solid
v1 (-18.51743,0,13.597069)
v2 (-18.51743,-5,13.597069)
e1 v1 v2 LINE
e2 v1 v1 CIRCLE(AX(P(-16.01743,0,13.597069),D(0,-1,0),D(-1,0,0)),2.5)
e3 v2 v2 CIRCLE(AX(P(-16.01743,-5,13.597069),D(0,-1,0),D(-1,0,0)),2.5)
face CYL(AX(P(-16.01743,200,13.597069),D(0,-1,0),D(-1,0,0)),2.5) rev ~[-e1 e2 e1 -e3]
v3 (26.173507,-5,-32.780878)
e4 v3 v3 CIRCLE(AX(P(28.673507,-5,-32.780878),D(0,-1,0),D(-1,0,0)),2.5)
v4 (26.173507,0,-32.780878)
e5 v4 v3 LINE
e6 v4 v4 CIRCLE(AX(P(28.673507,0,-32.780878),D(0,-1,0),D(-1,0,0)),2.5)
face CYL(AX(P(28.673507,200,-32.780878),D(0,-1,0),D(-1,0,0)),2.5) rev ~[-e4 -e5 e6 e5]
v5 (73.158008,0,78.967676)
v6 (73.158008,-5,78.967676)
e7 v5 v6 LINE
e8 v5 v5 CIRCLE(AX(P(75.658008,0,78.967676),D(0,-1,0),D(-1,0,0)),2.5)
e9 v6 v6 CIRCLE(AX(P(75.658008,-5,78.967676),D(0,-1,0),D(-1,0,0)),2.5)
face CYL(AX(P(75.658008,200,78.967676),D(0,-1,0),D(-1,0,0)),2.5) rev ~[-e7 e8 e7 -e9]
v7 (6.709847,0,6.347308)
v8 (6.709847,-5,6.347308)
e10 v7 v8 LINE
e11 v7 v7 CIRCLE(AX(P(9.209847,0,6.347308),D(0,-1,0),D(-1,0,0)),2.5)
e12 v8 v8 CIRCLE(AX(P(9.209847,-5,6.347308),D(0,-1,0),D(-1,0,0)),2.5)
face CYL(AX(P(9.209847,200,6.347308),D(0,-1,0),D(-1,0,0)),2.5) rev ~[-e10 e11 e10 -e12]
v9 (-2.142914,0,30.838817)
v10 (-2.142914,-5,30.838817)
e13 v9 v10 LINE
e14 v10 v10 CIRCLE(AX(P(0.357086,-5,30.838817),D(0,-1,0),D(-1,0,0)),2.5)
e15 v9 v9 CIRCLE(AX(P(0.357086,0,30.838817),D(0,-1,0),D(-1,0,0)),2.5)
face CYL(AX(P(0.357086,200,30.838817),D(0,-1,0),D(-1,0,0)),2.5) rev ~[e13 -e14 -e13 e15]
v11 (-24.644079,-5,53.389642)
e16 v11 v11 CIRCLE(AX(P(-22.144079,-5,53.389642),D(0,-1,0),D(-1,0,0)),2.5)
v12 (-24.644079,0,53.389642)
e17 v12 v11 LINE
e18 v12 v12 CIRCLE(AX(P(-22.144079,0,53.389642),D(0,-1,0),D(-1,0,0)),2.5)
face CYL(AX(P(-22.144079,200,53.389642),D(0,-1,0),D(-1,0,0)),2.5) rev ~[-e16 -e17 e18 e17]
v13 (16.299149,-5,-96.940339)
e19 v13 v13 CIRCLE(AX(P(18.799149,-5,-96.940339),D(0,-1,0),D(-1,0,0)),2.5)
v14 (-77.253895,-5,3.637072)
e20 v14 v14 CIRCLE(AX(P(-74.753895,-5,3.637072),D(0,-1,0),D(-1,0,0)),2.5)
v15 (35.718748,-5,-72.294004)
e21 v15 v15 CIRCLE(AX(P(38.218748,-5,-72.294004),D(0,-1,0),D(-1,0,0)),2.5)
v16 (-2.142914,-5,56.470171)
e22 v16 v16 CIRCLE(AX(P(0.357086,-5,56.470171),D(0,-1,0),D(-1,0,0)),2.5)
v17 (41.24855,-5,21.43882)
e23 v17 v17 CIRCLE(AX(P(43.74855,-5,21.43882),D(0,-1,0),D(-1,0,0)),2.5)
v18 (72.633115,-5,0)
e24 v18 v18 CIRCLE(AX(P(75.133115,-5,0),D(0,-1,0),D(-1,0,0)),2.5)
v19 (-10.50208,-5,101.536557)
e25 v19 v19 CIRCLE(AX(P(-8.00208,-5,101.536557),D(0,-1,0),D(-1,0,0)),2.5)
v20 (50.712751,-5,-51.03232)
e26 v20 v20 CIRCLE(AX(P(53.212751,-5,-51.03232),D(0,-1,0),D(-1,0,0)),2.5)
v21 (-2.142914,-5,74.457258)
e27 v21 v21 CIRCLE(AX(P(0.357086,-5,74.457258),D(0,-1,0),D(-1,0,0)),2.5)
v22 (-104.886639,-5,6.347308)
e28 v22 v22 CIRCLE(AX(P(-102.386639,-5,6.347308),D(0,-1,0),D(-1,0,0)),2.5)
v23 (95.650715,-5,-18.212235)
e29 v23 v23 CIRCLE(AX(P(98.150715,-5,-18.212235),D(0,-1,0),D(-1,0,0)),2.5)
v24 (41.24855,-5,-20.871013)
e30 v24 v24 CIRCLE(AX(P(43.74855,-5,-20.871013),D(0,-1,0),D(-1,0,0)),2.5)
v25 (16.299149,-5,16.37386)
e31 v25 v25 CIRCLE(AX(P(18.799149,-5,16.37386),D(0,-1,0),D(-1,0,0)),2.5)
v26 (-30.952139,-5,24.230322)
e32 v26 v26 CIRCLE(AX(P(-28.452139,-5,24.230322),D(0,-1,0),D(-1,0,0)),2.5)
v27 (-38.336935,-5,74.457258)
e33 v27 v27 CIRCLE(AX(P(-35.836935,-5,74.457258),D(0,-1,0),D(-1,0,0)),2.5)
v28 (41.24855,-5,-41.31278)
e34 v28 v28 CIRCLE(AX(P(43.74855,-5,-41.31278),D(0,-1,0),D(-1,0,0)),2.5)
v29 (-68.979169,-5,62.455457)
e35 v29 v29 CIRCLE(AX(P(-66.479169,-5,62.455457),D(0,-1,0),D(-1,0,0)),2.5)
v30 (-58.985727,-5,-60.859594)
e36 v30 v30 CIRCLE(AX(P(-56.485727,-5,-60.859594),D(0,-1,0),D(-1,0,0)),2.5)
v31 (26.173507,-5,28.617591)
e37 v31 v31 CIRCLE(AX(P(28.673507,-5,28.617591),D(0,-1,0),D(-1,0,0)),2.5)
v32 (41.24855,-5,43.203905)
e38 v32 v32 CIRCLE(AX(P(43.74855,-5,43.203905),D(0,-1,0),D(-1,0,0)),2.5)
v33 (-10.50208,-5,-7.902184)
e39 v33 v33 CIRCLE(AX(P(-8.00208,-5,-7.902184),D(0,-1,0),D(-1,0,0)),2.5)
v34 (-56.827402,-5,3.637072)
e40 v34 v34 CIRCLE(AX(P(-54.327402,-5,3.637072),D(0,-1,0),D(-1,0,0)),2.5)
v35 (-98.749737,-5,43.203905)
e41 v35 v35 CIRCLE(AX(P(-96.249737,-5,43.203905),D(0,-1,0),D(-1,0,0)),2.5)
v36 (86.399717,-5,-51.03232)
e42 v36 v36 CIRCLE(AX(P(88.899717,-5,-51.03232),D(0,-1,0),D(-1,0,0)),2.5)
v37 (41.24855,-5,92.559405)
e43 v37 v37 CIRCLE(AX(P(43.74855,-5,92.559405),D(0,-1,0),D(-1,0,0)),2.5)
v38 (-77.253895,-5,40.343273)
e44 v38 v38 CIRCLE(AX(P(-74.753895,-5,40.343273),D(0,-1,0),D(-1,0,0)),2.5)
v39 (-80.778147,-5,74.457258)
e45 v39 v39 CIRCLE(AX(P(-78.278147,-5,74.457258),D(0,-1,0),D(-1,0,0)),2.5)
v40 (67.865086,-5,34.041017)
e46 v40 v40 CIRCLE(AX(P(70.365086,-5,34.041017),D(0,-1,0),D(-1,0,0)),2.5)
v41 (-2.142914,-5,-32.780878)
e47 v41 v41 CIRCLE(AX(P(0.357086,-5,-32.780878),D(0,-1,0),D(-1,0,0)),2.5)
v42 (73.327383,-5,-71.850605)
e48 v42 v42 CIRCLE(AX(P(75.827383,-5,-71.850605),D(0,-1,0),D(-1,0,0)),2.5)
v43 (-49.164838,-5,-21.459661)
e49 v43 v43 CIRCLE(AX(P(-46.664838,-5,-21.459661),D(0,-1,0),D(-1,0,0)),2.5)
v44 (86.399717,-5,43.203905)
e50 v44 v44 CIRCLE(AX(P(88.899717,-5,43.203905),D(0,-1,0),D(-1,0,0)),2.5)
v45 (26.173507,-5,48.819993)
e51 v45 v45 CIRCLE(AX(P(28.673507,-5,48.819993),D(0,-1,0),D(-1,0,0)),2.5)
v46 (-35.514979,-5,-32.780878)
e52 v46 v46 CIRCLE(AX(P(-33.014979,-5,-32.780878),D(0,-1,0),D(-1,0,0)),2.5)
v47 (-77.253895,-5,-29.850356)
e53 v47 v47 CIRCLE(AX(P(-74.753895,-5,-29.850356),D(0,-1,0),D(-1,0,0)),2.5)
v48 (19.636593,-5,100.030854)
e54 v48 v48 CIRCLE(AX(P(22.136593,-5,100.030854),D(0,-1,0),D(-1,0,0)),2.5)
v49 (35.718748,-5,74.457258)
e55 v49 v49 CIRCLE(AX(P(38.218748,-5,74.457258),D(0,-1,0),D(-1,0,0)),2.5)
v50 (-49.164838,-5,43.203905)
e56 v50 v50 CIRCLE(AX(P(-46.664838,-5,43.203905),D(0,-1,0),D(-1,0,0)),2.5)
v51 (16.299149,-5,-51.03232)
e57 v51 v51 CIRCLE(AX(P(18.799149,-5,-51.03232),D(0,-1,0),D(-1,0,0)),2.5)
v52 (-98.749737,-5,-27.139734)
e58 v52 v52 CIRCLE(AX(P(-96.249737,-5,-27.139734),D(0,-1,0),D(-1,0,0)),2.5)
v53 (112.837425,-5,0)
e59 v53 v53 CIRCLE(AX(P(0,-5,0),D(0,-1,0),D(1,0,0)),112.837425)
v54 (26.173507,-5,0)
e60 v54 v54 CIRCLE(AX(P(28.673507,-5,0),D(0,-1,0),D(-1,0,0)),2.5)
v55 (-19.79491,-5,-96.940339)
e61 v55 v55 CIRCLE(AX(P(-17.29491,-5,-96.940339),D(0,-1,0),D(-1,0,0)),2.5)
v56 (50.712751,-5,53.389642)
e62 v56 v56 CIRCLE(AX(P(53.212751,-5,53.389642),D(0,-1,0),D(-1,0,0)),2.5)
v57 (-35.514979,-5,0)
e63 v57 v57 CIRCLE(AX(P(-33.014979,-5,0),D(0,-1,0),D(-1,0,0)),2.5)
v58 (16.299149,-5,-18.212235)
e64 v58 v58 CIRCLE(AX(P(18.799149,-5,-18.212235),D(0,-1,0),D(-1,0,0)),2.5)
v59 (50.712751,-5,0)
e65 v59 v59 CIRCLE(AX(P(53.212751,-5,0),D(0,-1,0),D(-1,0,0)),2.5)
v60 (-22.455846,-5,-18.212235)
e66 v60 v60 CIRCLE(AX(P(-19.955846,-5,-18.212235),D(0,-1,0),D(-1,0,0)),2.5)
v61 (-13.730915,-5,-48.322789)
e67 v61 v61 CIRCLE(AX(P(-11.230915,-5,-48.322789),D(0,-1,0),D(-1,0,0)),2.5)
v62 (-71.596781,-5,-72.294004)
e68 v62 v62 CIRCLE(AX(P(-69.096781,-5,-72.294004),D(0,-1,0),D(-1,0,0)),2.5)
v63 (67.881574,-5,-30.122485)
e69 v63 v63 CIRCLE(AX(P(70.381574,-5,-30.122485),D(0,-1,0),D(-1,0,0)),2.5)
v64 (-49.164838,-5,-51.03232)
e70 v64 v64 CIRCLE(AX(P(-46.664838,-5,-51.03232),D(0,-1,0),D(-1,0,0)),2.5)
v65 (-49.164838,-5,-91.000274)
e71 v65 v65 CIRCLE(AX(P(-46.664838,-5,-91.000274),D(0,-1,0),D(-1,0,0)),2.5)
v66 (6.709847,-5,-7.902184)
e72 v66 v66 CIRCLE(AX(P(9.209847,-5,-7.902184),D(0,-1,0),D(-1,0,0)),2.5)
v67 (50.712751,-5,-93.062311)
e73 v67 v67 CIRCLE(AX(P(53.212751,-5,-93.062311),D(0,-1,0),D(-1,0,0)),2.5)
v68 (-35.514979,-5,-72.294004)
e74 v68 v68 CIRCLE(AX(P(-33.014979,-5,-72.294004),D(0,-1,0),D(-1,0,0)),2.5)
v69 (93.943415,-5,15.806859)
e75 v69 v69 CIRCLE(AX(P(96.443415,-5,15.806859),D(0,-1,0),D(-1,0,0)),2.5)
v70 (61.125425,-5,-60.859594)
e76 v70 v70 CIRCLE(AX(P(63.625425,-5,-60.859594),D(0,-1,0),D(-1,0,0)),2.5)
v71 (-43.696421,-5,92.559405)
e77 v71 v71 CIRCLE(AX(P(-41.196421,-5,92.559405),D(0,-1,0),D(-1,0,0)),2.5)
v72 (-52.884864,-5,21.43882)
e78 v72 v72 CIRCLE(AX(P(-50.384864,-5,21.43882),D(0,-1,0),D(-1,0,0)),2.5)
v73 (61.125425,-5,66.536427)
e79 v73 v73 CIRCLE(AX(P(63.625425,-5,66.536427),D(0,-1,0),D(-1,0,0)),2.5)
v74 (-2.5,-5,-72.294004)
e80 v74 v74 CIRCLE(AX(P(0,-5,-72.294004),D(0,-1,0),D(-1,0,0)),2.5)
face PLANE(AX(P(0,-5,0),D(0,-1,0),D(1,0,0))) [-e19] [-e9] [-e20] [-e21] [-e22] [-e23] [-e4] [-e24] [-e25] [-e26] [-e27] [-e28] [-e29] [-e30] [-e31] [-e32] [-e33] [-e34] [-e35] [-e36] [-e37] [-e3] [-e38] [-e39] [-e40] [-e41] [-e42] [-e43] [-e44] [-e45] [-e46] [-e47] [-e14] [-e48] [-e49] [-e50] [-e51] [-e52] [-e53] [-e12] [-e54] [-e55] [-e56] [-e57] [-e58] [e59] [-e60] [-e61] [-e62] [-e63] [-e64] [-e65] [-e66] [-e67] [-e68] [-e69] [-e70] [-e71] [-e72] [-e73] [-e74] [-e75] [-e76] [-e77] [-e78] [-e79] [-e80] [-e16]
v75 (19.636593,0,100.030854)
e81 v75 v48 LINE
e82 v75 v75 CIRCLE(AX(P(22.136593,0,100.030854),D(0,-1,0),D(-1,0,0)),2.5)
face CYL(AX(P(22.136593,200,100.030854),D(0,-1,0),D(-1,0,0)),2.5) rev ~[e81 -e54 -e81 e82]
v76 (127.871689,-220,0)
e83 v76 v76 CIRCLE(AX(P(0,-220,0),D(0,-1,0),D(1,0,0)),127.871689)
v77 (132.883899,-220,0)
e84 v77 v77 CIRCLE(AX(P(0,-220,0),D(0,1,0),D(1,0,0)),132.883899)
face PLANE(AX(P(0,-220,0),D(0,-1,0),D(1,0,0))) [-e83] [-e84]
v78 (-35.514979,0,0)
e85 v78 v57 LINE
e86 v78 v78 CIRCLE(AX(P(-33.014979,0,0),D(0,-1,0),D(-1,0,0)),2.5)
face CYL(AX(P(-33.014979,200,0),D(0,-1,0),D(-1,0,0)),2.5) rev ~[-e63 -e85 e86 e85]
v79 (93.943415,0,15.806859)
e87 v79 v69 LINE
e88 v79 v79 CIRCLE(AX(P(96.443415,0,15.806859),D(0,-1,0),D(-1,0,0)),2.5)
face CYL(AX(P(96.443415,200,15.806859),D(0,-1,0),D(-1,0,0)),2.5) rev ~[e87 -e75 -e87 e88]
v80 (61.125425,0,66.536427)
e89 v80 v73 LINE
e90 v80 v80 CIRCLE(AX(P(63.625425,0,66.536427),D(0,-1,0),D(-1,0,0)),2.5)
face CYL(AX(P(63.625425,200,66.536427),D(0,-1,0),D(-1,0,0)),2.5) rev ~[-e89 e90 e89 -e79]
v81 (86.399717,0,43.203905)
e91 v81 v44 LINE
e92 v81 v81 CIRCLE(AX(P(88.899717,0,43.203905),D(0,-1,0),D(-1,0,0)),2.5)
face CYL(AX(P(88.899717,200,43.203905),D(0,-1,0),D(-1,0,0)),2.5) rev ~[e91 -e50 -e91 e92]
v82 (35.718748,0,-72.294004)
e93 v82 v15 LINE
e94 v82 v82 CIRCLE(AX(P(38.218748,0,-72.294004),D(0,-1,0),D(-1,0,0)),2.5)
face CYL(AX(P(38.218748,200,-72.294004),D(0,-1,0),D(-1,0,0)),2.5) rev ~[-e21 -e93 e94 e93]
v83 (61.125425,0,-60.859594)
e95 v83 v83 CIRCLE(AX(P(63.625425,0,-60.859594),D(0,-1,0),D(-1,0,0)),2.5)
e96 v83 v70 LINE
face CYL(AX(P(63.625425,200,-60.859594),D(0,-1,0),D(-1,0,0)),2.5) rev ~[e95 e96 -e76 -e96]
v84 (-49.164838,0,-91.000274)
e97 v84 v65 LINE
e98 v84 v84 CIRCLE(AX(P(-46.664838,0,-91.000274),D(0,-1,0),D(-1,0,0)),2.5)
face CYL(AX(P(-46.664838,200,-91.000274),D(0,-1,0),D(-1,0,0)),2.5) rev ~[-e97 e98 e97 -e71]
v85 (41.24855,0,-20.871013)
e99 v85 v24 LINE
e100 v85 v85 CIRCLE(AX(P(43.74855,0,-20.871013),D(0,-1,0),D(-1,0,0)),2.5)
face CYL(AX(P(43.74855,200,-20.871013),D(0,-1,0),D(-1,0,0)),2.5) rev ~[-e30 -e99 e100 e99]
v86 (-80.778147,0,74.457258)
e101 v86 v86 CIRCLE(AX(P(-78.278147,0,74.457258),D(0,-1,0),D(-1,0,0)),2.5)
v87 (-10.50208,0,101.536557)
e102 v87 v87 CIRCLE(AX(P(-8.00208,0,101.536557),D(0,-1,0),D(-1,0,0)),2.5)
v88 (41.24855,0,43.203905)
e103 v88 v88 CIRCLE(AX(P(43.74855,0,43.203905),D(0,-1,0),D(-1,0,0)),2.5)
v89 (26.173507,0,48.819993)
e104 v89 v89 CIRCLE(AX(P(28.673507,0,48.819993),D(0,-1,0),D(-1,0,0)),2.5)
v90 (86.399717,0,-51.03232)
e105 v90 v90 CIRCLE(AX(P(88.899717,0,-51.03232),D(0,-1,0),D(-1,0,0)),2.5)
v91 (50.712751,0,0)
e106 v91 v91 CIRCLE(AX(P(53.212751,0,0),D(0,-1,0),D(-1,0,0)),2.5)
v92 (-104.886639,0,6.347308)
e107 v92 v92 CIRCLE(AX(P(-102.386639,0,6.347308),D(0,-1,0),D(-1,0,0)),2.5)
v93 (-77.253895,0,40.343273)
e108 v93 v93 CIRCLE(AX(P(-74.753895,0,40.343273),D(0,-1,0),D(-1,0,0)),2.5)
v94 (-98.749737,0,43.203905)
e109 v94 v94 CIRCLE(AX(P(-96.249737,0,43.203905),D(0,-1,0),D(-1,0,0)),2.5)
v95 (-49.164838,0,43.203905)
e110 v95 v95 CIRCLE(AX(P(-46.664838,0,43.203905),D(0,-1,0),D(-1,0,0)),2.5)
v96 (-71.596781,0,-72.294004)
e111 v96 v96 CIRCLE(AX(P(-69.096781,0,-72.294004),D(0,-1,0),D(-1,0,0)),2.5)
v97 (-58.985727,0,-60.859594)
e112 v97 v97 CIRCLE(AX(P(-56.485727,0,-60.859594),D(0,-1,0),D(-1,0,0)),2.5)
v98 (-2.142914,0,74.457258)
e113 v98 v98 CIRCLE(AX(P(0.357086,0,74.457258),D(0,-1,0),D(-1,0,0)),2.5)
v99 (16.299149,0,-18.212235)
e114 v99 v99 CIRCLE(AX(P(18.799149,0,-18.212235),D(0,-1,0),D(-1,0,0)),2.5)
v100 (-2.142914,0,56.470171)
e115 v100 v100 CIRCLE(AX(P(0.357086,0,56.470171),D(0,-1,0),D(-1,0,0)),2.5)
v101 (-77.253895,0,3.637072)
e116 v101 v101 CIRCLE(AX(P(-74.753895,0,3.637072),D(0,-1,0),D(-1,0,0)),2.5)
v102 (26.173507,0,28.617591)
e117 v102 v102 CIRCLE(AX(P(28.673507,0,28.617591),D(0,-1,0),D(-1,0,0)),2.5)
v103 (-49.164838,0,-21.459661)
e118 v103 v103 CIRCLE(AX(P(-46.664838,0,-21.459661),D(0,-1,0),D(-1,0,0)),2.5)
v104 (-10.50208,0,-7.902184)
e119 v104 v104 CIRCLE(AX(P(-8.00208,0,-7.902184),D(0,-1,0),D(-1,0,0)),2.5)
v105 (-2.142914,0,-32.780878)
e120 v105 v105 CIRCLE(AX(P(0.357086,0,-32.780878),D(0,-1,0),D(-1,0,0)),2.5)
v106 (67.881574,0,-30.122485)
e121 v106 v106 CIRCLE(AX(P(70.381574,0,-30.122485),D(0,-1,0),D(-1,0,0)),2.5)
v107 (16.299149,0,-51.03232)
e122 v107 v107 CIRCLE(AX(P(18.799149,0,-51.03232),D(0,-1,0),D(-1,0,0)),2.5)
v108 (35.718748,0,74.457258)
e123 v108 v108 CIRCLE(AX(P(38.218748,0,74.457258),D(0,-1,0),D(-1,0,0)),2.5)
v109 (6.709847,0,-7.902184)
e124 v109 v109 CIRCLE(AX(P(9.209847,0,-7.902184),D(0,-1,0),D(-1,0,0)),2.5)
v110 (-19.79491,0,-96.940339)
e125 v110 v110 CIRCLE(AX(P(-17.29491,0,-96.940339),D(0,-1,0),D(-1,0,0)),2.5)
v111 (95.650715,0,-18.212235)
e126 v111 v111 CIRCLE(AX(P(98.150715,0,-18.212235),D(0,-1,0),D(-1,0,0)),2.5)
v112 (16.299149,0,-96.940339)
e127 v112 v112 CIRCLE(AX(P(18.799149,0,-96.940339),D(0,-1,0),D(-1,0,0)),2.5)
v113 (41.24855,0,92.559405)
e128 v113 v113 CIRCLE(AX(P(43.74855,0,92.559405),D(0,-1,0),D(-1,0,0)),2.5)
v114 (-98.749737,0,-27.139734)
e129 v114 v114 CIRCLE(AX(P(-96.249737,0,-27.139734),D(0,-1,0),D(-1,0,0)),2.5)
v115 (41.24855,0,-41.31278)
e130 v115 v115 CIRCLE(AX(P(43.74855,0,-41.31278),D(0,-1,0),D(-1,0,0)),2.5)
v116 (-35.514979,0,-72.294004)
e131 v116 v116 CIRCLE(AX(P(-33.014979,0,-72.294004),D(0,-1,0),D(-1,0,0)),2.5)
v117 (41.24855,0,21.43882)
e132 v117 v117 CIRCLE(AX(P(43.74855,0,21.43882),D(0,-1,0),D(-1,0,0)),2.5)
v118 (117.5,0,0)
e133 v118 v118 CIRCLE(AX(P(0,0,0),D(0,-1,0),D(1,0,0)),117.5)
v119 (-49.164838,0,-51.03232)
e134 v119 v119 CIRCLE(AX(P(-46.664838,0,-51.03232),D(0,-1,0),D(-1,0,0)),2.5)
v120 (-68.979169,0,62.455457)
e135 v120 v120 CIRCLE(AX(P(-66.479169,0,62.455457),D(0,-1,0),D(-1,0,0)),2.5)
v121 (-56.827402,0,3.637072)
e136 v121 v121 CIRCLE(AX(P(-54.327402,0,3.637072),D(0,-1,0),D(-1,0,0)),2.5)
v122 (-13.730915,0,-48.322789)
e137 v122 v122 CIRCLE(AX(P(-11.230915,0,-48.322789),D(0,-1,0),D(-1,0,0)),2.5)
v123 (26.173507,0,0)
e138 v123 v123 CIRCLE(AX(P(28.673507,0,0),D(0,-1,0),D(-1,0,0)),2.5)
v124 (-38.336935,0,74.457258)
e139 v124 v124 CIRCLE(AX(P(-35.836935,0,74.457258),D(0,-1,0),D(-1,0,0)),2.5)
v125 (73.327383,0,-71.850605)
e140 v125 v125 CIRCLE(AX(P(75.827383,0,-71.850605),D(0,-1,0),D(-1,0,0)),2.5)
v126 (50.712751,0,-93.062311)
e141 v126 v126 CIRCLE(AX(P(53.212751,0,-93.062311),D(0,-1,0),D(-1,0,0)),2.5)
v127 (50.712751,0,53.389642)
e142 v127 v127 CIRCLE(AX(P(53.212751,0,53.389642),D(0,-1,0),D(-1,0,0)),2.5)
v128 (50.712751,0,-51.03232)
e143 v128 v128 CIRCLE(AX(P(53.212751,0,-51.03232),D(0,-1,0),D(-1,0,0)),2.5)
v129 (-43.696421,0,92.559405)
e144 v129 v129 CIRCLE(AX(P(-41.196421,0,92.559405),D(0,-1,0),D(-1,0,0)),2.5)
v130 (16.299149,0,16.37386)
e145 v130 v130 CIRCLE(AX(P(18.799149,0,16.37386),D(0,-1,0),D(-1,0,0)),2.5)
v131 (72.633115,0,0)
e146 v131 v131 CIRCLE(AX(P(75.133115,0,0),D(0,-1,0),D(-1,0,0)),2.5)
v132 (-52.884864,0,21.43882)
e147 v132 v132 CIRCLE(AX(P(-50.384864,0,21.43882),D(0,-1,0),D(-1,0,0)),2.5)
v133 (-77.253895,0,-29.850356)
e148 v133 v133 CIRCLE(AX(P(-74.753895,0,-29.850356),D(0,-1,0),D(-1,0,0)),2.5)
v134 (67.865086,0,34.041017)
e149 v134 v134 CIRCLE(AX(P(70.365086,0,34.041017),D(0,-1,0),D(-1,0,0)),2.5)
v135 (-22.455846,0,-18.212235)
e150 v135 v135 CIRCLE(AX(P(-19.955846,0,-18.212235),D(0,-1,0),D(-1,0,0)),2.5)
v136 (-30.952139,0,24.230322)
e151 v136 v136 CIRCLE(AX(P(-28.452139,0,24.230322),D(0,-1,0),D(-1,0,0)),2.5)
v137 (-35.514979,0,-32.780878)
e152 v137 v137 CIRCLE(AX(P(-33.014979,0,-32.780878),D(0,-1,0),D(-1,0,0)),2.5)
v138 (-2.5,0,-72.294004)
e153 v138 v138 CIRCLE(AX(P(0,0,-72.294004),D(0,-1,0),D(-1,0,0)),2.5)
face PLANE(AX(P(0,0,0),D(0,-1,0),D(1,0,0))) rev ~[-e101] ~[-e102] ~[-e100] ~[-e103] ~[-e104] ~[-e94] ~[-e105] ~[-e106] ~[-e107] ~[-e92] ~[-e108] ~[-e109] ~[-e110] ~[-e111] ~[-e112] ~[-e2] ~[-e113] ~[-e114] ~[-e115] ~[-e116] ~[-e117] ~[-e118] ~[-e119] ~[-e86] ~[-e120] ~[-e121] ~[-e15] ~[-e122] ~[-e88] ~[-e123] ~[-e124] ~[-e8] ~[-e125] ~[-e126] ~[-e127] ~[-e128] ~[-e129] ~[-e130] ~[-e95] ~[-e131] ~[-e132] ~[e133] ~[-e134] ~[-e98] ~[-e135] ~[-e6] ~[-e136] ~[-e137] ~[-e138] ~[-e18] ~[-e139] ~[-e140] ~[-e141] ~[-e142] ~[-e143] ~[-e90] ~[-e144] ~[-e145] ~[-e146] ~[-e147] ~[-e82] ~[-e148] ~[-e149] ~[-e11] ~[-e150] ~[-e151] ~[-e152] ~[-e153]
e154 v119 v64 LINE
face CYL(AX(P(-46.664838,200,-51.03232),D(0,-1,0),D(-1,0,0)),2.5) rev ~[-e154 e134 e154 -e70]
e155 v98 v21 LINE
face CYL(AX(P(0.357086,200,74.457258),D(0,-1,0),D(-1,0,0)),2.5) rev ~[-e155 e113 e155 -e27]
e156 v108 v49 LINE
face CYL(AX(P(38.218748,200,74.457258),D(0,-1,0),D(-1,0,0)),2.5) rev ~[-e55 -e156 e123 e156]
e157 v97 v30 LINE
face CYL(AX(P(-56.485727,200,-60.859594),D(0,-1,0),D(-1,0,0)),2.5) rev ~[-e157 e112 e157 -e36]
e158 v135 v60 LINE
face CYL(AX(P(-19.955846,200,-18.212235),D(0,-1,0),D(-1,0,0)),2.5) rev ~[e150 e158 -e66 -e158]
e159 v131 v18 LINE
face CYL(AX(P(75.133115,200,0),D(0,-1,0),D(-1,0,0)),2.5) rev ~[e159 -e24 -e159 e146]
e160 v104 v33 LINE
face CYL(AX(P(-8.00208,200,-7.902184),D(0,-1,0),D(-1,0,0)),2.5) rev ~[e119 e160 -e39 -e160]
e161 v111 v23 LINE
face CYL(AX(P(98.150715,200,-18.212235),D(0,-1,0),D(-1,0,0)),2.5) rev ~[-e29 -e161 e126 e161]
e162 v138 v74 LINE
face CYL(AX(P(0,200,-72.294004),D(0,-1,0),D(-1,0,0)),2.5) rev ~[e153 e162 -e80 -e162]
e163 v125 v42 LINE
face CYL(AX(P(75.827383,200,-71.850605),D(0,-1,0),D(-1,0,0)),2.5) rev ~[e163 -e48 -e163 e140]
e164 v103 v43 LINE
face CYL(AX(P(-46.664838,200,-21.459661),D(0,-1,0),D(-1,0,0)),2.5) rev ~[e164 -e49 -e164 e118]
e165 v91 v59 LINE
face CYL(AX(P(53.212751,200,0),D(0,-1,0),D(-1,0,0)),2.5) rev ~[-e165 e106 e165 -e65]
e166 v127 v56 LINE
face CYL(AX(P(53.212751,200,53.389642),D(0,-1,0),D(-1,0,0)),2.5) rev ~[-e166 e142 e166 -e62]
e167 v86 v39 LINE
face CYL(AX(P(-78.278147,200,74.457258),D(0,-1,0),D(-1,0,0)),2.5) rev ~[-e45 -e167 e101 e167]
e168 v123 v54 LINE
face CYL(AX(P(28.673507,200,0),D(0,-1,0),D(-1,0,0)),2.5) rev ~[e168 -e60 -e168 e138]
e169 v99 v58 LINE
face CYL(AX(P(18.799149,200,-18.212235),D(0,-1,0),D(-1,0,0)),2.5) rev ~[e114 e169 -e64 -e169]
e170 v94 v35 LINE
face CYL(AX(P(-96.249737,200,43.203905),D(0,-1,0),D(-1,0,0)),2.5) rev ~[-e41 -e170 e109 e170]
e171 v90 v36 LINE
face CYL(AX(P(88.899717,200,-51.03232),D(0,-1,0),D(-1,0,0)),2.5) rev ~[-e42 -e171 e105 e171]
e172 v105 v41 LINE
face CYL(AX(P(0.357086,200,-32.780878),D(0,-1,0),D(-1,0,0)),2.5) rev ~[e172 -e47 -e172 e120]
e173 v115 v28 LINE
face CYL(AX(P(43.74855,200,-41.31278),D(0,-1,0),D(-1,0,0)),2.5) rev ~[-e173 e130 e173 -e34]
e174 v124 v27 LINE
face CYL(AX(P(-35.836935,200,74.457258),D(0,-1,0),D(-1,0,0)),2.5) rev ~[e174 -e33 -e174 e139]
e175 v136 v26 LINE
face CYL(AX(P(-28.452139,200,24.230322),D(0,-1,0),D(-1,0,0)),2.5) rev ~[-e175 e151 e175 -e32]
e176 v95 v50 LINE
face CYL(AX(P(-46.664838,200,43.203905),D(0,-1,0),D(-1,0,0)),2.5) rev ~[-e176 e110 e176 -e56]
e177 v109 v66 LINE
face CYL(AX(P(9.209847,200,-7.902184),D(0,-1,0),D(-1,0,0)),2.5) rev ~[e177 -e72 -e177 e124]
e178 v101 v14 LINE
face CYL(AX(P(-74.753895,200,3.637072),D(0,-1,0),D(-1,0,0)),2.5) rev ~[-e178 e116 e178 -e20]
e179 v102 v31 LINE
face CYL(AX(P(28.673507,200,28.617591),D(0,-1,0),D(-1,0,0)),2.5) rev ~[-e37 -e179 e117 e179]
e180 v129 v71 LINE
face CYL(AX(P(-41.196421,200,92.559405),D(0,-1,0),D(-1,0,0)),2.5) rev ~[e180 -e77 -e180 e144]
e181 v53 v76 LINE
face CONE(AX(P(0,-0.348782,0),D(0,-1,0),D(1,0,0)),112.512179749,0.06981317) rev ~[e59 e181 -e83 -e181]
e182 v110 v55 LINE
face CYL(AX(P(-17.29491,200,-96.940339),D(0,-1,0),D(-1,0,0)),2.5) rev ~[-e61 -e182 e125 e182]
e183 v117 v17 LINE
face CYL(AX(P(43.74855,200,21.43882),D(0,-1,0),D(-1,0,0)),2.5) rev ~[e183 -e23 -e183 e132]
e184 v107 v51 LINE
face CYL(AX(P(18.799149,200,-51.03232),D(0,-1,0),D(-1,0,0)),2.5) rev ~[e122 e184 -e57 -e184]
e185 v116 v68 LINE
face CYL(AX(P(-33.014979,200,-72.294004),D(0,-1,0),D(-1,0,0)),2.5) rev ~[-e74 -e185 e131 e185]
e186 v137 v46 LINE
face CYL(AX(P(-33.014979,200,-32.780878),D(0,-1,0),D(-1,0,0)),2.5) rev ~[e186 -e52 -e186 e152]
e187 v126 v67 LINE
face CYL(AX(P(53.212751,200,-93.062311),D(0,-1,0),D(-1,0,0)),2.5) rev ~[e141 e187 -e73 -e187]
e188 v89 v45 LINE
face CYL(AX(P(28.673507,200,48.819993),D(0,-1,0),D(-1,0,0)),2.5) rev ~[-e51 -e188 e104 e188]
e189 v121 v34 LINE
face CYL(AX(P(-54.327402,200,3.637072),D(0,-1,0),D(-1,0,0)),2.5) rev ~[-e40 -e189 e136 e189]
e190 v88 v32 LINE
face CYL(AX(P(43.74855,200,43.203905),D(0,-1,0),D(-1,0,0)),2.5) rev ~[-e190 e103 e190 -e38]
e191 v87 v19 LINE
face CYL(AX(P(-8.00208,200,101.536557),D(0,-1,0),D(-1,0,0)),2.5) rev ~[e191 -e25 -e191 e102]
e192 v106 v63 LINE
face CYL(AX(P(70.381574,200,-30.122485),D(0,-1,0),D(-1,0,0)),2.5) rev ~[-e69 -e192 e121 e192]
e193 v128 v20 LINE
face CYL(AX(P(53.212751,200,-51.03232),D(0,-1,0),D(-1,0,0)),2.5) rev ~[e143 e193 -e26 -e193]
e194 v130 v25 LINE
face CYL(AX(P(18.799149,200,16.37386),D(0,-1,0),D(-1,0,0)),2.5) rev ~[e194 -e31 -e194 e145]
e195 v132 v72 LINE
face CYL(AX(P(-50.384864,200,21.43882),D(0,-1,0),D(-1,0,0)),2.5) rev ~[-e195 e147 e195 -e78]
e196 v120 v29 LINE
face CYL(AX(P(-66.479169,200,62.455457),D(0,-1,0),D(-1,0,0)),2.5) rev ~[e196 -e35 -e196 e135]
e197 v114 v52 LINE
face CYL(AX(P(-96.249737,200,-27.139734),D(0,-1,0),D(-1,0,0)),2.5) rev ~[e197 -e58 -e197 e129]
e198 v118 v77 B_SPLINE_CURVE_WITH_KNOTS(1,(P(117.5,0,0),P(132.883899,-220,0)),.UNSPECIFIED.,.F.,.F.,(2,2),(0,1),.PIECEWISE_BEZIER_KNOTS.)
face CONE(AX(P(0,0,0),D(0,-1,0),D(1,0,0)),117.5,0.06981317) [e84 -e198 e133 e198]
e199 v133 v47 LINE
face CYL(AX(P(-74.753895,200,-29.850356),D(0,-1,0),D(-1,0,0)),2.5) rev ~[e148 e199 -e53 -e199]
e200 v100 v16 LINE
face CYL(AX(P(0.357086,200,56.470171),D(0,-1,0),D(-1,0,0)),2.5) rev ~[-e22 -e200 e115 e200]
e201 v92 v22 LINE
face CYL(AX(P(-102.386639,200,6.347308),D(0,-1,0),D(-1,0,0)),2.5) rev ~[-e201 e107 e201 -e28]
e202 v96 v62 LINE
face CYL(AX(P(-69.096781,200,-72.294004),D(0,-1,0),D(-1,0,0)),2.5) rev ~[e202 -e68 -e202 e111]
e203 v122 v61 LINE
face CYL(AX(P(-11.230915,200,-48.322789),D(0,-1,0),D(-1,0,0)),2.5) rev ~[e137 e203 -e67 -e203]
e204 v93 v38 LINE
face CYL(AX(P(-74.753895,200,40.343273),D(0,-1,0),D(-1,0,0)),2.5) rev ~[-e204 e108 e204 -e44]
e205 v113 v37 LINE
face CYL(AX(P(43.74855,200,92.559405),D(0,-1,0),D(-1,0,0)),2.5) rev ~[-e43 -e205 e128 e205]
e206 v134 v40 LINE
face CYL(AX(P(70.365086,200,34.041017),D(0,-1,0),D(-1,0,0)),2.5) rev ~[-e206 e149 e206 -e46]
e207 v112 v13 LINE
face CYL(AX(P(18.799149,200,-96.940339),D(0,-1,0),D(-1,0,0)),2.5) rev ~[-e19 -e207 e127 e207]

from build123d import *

# Parameters (mm, degrees)
F0_R     = 117.5
F1_DEPTH = 220
F1_TAPER = -4
F2_T     = -5
F3_D     = 5
F3_DEPTH = 200
F3_TIP   = 1.5021515476


with BuildPart() as f1:
    # F0 (on Front) → F1 (new body)
    with BuildSketch(Plane.XZ):
        Circle(F0_R)
    extrude(amount=F1_DEPTH, taper=F1_TAPER)

    # F2
    f2_openings = [f1.faces().sort_by_distance(p)[0] for p in [
        (0, -220, 0),
    ]]
    offset(amount=F2_T, openings=f2_openings, kind=Kind.INTERSECTION)

    # F3
    with Locations(Plane(origin=(0, 0, 0), x_dir=(1, 0, 0), z_dir=(0, 1, 0))):
        with Locations((9.2098470777, -6.3473079354), (-8.0020800233, 7.90218357), (9.2098470777, 7.90218357), (0.3570861008, 32.7808782458), (18.7991485, 18.2122346014), (28.6735072732, 0), (18.7991485, -16.3738597184), (0.3570861008, -30.838817358), (-16.0174295306, -13.5970693082), (-28.4521393478, -24.2303218693), (-33.0149792135, 0), (-19.9558455497, 18.2122346014), (28.6735072732, 32.7808782458), (43.748550117, 20.8710134029), (53.2127507031, 0), (43.748550117, -21.4388202876), (28.6735072732, -28.6175906658), (28.6735072732, -48.8199926913), (0.3570861008, -56.4701706171), (-22.1440792084, -53.3896423876), (-46.6648377478, -43.2039052248), (-50.3848642111, -21.4388202876), (-54.3274022639, -3.6370723974), (-46.6648377478, 21.4596614242), (-33.0149792135, 32.7808782458), (-11.2309148535, 48.322789371), (18.7991485, 51.032319665), (-46.6648377478, 51.032319665), (-56.4857274294, 60.8595944941), (-69.0967813134, 72.2940042615), (43.748550117, 41.3127802312), (70.3815743327, 30.1224850118), (75.1331150532, 0), (70.3650861979, -34.0410172939), (43.748550117, -43.2039052248), (53.2127507031, -53.3896423876), (38.2187478244, -74.4572579861), (0.3570861008, -74.4572579861), (-35.8369350433, -74.4572579861), (-66.4791688323, -62.4554567039), (-74.753895402, -40.3432734311), (-74.753895402, -3.6370723974), (-74.753895402, 29.8503562808), (-33.0149792135, 72.2940042615), (-46.6648377478, 91.0002738237), (-17.2949098051, 96.9403386116), (0, 72.2940042615), (18.7991485, 96.9403386116), (38.2187478244, 72.2940042615), (53.2127507031, 93.0623114109), (75.8273825049, 71.850605309), (63.6254251003, 60.8595944941), (53.2127507031, 51.032319665), (88.8997167349, 51.032319665), (98.1507152319, 18.2122346014), (96.4434146881, -15.8068593591), (88.8997167349, -43.2039052248), (75.6580084562, -78.9676755667), (63.6254251003, -66.5364265442), (43.748550117, -92.5594046712), (22.1365932375, -100.0308543444), (-8.0020800233, -101.5365570784), (-41.1964207888, -92.5594046712), (-78.2781466842, -74.4572579861), (-96.2497368455, -43.2039052248), (-102.3866385221, -6.3473079354), (-96.2497368455, 27.1397344768)):
            Hole(F3_D / 2, depth=F3_DEPTH)
            with Locations((0, 0, -(F3_DEPTH + F3_TIP / 2))):  # 118° drill point
                Cone(0, F3_D / 2, F3_TIP, mode=Mode.SUBTRACT)


solid = f1.part
